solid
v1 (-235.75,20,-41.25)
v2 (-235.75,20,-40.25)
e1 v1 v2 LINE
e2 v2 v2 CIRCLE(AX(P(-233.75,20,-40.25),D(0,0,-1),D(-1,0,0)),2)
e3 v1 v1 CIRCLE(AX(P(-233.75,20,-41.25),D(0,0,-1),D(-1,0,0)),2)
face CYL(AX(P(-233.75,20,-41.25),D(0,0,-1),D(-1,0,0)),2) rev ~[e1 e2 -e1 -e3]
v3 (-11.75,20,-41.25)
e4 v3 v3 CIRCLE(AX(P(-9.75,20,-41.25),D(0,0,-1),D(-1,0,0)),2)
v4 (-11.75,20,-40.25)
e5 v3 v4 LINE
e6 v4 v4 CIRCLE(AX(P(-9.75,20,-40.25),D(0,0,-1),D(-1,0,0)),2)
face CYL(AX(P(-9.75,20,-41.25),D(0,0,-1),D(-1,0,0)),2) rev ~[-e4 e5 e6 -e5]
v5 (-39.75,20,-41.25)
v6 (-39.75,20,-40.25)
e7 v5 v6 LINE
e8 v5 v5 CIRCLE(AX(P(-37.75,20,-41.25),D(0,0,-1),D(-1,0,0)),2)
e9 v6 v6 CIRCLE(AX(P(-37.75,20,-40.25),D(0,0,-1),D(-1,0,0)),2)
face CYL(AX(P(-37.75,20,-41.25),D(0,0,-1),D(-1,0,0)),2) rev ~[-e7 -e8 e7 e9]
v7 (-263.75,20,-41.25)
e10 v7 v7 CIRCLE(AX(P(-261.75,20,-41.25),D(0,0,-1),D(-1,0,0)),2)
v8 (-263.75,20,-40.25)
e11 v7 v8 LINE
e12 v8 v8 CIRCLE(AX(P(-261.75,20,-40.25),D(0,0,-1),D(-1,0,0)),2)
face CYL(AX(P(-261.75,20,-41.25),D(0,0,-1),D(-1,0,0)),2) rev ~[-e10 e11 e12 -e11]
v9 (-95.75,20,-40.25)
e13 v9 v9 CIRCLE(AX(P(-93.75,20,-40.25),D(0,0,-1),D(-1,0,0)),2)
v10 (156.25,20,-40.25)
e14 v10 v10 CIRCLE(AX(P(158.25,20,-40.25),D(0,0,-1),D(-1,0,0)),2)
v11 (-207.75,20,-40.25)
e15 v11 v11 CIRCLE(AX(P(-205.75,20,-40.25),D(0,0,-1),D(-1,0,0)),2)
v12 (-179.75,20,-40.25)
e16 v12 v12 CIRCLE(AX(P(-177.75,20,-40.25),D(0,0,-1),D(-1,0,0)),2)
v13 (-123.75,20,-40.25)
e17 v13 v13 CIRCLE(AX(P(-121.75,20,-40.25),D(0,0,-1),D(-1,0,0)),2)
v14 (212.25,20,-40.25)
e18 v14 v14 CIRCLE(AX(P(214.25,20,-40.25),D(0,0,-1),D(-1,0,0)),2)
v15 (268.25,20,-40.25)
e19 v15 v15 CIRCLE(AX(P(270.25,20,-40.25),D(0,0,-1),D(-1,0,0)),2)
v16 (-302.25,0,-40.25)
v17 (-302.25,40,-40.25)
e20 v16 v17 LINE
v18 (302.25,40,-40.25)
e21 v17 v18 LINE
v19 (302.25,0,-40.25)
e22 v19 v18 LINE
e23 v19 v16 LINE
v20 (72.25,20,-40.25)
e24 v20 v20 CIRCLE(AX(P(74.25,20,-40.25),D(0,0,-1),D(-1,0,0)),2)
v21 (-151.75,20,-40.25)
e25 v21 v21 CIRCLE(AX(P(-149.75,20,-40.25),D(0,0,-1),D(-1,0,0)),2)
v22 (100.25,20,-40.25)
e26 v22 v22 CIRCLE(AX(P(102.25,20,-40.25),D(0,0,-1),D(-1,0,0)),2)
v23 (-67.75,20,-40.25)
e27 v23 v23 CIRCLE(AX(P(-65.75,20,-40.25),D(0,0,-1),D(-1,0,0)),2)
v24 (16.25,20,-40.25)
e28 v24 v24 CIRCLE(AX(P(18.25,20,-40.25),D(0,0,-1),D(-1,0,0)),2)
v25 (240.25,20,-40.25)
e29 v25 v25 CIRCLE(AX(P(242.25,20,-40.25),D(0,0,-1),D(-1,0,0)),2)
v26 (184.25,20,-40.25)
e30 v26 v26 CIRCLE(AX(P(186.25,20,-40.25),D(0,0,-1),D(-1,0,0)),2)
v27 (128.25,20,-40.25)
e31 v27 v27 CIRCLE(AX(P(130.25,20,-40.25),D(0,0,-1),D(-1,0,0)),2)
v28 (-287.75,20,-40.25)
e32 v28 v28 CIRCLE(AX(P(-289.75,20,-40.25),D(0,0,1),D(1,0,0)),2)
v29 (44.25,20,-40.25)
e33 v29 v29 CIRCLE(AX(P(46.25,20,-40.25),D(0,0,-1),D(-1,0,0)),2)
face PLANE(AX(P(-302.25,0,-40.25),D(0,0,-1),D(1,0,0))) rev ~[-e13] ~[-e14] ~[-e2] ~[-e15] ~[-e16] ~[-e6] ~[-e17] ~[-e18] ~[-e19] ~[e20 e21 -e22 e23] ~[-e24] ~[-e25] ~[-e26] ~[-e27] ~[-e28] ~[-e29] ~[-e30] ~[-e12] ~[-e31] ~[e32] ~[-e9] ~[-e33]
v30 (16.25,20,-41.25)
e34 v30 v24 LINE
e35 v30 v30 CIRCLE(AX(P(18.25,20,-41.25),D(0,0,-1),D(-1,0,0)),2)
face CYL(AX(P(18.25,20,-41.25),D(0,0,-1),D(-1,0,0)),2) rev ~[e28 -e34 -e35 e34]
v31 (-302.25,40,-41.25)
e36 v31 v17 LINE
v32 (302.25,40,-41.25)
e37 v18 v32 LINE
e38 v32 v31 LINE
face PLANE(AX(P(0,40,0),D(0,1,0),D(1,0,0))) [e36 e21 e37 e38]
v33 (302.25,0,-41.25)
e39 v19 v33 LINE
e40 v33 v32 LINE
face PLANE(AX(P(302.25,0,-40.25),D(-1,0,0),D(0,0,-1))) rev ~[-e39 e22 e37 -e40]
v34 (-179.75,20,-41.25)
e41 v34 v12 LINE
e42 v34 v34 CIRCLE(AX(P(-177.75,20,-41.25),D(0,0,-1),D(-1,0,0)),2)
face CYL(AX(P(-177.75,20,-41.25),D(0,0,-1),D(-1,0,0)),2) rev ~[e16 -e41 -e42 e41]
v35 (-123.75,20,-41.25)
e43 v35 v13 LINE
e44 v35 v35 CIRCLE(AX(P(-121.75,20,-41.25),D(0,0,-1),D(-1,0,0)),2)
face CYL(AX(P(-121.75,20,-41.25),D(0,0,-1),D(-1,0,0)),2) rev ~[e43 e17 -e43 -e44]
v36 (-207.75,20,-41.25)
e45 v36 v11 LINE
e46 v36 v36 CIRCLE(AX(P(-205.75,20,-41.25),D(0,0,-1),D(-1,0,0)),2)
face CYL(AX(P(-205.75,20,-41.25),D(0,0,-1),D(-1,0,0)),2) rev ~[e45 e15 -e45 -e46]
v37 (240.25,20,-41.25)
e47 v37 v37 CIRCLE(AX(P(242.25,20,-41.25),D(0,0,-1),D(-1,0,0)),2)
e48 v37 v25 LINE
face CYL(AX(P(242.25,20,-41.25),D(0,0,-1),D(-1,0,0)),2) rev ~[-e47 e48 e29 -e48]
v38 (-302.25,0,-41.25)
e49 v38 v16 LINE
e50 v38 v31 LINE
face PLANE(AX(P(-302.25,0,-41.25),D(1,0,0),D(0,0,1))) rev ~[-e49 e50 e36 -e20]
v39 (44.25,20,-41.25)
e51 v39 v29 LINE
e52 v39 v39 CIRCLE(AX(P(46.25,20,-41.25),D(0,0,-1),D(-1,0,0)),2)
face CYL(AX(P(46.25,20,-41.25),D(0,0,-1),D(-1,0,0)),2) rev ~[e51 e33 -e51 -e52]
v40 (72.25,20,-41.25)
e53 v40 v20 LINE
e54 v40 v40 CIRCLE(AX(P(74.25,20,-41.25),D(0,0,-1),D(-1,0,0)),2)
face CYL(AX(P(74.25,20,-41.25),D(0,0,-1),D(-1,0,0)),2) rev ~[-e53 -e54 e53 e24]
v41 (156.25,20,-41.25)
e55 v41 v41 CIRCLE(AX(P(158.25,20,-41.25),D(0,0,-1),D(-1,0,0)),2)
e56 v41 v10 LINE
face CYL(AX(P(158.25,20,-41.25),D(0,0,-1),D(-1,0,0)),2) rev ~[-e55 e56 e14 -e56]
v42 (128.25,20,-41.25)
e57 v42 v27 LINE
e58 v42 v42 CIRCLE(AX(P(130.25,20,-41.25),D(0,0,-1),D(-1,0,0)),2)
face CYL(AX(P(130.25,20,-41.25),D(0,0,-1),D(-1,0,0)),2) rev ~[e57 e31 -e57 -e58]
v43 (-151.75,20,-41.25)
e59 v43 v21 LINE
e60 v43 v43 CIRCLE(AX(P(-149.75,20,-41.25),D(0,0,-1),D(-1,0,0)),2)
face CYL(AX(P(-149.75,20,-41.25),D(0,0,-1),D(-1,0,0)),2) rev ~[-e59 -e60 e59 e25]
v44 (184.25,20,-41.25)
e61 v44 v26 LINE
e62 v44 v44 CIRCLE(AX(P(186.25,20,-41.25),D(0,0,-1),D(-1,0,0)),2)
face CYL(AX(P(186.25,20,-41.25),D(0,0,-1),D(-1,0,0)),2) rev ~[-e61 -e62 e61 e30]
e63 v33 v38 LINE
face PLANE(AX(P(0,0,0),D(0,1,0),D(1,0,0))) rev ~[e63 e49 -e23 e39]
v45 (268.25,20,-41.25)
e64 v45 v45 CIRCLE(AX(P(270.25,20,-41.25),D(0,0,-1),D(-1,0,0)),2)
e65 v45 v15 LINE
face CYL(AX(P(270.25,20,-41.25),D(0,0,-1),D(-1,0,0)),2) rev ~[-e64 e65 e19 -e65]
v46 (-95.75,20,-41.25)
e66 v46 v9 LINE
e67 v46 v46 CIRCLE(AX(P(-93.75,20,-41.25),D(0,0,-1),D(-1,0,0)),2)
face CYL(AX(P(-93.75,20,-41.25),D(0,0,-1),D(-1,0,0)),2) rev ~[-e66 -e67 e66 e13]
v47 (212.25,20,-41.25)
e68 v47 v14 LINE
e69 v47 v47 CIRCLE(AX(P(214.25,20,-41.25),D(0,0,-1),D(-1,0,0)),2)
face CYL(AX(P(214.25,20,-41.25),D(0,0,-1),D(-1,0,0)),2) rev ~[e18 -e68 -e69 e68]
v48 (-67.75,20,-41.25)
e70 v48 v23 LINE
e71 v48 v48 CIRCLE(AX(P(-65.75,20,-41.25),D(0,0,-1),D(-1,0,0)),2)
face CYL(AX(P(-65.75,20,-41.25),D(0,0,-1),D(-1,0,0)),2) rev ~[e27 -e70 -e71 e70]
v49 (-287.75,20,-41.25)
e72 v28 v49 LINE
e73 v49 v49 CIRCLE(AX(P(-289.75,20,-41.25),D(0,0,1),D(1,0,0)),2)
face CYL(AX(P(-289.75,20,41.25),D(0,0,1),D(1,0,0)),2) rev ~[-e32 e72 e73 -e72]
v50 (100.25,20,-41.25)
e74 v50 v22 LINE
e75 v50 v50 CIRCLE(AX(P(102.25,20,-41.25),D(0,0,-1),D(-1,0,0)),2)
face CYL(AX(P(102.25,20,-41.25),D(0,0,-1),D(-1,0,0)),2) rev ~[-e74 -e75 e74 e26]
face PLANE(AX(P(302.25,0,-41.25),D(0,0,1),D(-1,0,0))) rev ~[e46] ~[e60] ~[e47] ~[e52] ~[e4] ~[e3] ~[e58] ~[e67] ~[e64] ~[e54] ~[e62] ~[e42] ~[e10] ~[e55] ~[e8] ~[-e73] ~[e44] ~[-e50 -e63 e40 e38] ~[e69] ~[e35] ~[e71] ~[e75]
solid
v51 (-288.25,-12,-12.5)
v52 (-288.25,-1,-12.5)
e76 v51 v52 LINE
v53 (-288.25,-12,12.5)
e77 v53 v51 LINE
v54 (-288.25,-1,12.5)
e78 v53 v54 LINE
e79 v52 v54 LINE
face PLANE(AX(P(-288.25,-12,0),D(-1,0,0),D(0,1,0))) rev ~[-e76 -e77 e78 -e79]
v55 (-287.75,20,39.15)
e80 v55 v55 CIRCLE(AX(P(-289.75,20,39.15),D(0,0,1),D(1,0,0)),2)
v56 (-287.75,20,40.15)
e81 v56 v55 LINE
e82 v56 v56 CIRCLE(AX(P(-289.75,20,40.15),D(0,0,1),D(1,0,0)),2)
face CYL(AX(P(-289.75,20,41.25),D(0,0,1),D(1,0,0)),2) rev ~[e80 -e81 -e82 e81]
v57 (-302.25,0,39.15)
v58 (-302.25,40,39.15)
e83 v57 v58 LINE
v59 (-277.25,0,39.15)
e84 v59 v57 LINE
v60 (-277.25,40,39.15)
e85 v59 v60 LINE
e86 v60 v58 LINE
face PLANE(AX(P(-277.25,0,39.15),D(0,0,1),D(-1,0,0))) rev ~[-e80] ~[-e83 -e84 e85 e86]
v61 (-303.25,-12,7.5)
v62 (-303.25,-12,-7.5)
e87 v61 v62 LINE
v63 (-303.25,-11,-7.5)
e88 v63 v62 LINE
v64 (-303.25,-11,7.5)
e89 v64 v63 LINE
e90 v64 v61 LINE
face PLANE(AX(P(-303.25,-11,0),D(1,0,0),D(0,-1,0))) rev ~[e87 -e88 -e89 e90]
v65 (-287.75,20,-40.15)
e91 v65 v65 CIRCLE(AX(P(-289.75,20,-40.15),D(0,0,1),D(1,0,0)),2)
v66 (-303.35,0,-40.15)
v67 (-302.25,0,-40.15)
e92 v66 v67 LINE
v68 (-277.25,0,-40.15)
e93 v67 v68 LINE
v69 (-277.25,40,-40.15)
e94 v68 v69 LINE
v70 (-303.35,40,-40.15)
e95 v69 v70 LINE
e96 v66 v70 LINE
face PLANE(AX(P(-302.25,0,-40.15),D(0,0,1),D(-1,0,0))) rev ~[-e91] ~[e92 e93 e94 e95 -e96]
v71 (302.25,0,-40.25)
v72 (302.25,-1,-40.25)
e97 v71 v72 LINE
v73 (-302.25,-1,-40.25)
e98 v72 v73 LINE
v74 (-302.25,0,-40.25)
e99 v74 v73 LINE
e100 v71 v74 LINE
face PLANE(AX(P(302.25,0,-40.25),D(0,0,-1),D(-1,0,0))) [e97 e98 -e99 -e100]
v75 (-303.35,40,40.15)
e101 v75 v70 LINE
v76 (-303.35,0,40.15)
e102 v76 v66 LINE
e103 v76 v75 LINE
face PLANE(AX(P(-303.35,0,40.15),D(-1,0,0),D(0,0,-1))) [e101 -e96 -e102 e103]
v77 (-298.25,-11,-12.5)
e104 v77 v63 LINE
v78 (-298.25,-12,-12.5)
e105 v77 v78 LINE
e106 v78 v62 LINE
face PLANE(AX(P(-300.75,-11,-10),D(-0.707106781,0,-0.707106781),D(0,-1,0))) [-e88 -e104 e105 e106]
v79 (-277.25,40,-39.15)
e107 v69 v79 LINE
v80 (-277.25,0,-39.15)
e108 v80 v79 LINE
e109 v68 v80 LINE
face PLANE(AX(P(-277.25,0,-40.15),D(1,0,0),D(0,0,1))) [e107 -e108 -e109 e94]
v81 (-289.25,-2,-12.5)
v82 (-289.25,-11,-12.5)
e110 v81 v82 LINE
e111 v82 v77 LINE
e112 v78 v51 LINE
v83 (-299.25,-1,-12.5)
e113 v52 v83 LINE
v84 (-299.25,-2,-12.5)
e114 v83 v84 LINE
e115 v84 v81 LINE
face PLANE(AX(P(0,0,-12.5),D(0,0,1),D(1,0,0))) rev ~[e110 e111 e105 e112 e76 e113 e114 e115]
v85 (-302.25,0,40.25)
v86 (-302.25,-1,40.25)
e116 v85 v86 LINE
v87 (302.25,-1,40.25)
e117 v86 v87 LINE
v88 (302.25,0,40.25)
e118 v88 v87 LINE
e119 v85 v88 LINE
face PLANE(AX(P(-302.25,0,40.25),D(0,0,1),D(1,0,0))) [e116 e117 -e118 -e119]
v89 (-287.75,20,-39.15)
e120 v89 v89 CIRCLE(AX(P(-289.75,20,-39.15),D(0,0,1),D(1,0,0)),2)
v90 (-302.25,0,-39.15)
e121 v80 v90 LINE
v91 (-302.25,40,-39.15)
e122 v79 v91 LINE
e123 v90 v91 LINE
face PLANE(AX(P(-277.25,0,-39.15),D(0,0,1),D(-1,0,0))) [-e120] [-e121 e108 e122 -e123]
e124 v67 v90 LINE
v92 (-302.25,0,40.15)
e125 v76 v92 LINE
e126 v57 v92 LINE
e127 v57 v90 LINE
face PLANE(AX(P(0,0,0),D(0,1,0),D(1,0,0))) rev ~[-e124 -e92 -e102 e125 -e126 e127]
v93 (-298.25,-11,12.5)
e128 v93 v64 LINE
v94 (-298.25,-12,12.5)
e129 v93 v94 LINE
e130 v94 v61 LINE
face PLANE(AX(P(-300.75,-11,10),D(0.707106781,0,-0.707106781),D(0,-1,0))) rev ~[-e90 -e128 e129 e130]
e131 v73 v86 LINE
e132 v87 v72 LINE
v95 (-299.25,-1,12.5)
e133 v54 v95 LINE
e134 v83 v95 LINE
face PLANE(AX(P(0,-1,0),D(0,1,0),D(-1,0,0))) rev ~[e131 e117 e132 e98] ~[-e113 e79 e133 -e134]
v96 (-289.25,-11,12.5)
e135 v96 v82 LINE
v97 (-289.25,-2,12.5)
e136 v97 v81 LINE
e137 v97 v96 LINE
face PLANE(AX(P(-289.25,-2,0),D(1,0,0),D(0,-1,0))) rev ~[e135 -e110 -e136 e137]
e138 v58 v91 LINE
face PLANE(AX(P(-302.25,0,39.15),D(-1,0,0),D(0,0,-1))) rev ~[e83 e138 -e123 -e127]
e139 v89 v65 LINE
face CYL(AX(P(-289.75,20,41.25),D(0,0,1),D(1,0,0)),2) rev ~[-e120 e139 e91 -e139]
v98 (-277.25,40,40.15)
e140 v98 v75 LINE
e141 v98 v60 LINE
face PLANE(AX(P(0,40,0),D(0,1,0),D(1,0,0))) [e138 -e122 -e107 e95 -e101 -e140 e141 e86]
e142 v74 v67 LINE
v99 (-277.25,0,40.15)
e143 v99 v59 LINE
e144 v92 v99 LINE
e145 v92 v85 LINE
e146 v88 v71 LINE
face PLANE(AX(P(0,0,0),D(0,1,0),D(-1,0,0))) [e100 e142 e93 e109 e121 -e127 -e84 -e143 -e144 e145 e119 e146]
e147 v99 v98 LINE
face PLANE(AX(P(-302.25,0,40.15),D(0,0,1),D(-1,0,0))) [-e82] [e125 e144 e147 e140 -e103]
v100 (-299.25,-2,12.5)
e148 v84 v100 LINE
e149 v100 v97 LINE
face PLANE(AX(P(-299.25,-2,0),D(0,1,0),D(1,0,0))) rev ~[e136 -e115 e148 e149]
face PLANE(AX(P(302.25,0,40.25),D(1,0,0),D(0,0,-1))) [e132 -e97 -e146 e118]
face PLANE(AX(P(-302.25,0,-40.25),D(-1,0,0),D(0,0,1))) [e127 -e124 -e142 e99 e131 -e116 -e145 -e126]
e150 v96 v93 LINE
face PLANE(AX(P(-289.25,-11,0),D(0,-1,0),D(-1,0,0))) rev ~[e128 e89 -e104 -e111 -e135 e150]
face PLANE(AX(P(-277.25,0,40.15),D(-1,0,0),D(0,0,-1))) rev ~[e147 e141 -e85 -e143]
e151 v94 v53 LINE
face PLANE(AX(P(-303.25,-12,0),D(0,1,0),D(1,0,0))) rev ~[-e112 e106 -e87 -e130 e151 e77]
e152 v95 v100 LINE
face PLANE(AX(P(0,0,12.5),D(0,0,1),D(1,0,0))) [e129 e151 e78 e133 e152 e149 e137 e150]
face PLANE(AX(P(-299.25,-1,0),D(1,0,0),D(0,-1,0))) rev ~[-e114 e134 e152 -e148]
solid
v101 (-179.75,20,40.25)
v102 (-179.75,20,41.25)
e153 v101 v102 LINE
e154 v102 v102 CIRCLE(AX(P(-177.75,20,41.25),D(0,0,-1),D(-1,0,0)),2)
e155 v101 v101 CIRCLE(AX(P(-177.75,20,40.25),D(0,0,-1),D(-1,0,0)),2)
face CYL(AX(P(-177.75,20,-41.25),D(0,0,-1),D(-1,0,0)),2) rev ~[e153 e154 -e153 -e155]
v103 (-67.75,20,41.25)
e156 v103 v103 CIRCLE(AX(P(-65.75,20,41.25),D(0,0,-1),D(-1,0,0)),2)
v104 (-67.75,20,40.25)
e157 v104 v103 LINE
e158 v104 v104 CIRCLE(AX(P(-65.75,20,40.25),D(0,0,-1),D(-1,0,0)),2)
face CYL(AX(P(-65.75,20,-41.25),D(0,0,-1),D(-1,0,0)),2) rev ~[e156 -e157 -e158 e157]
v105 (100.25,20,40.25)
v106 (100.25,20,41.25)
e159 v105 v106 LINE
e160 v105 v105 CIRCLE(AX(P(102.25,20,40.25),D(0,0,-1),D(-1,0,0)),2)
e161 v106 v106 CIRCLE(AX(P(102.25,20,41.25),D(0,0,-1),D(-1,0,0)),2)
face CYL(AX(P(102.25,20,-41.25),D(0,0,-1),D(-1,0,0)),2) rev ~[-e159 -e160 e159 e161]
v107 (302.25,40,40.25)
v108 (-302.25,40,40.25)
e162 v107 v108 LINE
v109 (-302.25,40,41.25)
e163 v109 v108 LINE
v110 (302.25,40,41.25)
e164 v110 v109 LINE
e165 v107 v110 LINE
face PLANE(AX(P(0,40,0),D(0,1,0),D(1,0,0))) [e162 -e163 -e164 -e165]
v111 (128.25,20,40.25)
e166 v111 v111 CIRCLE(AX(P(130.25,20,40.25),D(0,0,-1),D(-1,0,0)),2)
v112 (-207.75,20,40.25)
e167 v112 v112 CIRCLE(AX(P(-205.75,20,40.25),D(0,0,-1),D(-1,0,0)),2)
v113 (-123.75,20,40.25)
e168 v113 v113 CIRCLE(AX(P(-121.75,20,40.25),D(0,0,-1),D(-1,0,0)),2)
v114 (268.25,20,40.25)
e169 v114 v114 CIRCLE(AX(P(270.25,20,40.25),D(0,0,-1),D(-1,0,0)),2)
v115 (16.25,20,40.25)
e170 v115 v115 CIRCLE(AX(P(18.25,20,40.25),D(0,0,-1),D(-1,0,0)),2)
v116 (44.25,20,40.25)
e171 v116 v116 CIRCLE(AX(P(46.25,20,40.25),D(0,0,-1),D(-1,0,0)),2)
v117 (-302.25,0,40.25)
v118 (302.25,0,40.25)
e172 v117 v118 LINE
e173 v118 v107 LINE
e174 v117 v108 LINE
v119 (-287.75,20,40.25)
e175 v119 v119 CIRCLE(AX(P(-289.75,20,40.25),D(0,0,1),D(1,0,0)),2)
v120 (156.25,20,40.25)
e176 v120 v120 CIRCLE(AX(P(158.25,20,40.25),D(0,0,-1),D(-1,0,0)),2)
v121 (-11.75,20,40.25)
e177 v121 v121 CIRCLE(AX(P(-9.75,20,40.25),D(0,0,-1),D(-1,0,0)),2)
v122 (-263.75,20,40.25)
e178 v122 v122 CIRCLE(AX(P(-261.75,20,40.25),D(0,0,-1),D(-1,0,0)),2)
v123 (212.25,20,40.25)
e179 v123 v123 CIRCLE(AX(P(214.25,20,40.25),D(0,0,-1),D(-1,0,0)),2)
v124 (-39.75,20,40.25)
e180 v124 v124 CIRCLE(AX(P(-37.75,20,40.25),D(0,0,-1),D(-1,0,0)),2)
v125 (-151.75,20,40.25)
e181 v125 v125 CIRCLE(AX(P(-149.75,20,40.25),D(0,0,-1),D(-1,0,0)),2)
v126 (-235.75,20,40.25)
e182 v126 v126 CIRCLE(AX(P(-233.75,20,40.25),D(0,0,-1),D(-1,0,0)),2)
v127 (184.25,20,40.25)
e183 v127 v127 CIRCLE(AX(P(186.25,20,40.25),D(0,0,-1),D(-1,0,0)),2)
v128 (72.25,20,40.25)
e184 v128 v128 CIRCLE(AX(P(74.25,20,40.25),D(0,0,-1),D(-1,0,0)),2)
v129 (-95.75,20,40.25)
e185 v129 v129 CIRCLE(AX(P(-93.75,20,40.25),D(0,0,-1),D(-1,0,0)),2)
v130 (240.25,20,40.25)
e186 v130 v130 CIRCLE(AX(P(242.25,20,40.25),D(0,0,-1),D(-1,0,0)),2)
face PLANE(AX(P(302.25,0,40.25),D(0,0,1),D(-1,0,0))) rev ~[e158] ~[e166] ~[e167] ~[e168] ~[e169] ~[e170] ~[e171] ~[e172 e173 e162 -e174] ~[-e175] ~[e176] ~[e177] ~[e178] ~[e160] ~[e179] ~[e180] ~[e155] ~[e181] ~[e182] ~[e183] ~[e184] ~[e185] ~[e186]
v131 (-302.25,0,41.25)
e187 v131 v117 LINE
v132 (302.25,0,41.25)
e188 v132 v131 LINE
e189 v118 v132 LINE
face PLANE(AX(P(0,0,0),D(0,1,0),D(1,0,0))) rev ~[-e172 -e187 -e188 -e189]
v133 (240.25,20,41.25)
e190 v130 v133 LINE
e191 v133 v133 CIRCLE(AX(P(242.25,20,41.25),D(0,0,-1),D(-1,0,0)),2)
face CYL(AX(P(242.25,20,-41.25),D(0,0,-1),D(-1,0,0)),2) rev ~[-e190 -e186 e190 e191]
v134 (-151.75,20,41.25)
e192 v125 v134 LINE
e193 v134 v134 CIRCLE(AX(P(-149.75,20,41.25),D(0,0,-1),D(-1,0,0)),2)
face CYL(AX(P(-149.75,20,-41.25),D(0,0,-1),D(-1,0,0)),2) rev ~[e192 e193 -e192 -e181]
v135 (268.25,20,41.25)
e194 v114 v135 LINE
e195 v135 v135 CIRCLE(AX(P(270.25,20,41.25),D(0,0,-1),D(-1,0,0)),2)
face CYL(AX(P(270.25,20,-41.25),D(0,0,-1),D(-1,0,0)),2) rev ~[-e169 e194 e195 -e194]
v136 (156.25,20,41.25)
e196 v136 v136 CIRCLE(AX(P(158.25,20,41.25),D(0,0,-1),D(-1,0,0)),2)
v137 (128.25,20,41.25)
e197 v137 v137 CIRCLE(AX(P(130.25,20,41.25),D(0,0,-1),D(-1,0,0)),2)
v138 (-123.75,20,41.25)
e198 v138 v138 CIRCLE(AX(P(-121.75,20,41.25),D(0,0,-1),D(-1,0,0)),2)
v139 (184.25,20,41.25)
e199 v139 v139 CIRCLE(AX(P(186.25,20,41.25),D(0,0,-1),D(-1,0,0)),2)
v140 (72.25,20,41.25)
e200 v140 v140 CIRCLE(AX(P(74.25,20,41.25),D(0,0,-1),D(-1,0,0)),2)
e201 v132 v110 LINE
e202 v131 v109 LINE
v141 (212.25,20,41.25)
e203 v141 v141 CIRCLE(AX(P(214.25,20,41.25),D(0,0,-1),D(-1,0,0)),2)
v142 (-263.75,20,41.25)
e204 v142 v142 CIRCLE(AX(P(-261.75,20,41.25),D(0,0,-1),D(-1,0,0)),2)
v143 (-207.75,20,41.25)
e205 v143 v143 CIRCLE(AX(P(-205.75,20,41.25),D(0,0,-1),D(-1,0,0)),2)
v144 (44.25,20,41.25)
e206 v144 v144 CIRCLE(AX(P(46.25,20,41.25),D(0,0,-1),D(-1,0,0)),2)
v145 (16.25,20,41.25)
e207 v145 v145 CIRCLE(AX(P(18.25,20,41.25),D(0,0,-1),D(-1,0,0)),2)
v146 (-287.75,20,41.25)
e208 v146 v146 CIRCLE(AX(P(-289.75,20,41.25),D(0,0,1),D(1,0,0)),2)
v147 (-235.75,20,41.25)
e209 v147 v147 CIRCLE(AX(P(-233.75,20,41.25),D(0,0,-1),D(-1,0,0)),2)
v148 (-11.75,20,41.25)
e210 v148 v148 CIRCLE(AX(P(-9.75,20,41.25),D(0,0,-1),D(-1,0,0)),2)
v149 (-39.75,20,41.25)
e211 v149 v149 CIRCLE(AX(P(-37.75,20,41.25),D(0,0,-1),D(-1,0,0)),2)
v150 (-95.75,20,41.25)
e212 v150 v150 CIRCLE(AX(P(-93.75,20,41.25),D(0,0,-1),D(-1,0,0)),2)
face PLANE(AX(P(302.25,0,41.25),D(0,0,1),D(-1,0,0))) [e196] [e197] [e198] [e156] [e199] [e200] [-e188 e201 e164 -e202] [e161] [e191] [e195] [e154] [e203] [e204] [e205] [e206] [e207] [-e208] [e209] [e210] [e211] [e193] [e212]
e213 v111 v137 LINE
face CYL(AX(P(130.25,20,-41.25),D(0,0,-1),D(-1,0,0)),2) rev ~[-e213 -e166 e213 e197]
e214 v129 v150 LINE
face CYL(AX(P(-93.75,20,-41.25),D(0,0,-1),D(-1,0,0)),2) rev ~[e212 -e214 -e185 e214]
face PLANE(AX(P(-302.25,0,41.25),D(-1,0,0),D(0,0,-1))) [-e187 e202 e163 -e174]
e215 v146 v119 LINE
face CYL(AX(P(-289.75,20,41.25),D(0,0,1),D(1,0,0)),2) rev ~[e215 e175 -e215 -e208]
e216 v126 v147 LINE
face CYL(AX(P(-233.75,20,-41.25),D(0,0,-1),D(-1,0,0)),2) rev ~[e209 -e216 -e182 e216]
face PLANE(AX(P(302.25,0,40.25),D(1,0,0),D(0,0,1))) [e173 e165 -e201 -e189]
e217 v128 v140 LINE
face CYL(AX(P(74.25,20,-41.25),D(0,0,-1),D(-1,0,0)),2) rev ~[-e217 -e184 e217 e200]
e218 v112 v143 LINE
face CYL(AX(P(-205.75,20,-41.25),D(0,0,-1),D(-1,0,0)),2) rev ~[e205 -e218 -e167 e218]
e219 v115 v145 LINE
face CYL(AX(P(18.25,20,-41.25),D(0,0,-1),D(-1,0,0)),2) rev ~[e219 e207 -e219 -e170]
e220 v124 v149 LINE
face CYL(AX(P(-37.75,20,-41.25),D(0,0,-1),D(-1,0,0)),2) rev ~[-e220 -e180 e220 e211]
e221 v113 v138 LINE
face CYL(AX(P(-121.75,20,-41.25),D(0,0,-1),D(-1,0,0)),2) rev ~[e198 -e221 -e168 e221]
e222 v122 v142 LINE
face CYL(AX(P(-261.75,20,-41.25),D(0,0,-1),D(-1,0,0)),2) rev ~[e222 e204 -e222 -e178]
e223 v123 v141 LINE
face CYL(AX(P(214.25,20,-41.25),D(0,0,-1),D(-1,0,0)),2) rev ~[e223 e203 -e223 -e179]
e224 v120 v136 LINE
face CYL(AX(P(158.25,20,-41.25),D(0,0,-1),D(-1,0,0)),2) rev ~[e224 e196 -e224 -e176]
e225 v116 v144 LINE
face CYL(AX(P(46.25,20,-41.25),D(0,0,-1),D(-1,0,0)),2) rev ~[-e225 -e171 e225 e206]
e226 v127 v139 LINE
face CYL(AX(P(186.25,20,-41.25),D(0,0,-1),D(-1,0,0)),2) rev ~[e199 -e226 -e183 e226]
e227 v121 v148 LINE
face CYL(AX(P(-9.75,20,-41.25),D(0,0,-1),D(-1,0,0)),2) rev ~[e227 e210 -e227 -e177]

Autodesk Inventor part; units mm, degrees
ref_plane "YZ Plane" through (0, 0, 0) normal (1, 0, 0) x (0, 1, 0)
ref_plane "XZ Plane" through (0, 0, 0) normal (0, 1, 0) x (-1, 0, 0)
ref_plane "XY Plane" through (0, 0, 0) normal (0, 0, 1) x (1, 0, 0)
sketch "Sketch1" plane through (0, 0, 0) normal (0, 1, 0) x (-1, 0, 0)
  line L0 (302.25, 40.25) -> (-302.25, 40.25)
  line L1 (-302.25, 40.25) -> (-302.25, -40.25)
  line L2 (-302.25, -40.25) -> (302.25, -40.25)
  line L3 (302.25, -40.25) -> (302.25, 40.25)
  line L4 (431.9097, 0) -> (-427.5376, 0) construction
  line L5 (0, 201.1267) -> (0, -116.2072) construction
  point P0 (0, 0)
  dimension "d0" = 604.5
  dimension "d1" = 80.5
extrude "Extrusion1" add sketch "Sketch1" against normal blind 1
sketch "Sketch2" plane through (0, 0, 0) normal (0, 1, 0) x (1, 0, 0)
  line L0 (-302.25, 40.25) -> (302.25, 40.25) projected
  line L1 (-302.25, 40.25) -> (302.25, 40.25)
  line L2 (302.25, 40.25) -> (302.25, 41.25)
  line L3 (302.25, 41.25) -> (-302.25, 41.25)
  line L4 (-302.25, 41.25) -> (-302.25, 40.25)
  line L5 (302.25, -40.25) -> (-302.25, -40.25) projected
  line L6 (-302.25, -40.25) -> (302.25, -40.25)
  line L7 (302.25, -40.25) -> (302.25, -41.25)
  line L8 (302.25, -41.25) -> (-302.25, -41.25)
  line L9 (-302.25, -41.25) -> (-302.25, -40.25)
  line L10 (-302.25, -41.25) -> (-303.75, -41.25)
  line L11 (-303.75, -41.25) -> (-303.75, 42.25)
  line L12 (-303.75, 42.25) -> (-302.25, 42.25)
  line L13 (-302.25, 42.25) -> (-302.25, -41.25)
  point P0 (0, 0)
  point P1 (-300.25, 41.75)
  dimension "d4" = 1
  dimension "d5" = 604.5
  dimension "d6" = 1
  dimension "d7" = 604.5
  dimension "d8" = 1.5
  dimension "d9" = 83.5
extrude "Extrusion2" add sketch "Sketch2" along normal blind 40 contours L4 L3 L2 L0 | L5 L7 L8 L9
sketch "Sketch3" plane through (0, 0, 0) normal (0, 1, 0) x (1, 0, 0)
  line L0 (-302.25, 41.25) -> (-302.25, 40.25) projected
  line L1 (-302.25, 41.25) -> (-302.25, 40.25) projected
  line L2 (-302.25, 41.25) -> (-302.25, 40.25) projected
  line L3 (-302.25, 41.25) -> (-302.25, 40.25) projected
  line L4 (-302.25, -40.25) -> (-302.25, 40.25) projected
  line L5 (-302.25, 40.25) -> (-302.25, -40.25) projected
  line L6 (-302.25, -40.25) -> (-302.25, -41.25) projected
  line L7 (-302.25, -40.25) -> (-302.25, -41.25) projected
  line L8 (-302.25, 40.25) -> (-302.25, -40.25) projected
  line L9 (-302.25, -40.25) -> (-302.25, 40.25) projected
  line L10 (-302.25, -40.25) -> (-302.25, -41.25) projected
  line L11 (-302.25, -40.25) -> (-302.25, -41.25) projected
  line L12 (302.25, 41.25) -> (-302.25, 41.25) projected
  line L13 (-302.25, -41.25) -> (302.25, -41.25) projected
  line L14 (302.25, -40.25) -> (-302.25, -40.25) projected
  line L15 (-302.25, 40.25) -> (302.25, 40.25) projected
  line L16 (302.25, -40.25) -> (-302.25, -40.25) projected
  line L17 (-277.25, -40.25) -> (-277.25, -39.15)
  line L18 (-277.25, -39.15) -> (-302.25, -39.15)
  line L19 (-302.25, 40.25) -> (302.25, 40.25) projected
  line L20 (-277.25, 40.25) -> (-277.25, 39.15)
  line L21 (-277.25, 39.15) -> (-302.25, 39.15)
  line L22 (-302.25, -40.25) -> (-303.35, -40.25)
  line L23 (-303.35, -40.25) -> (-303.35, 40.25)
  line L24 (-303.35, 40.25) -> (-302.25, 40.25)
  line L25 (-277.25, 40.15) -> (-303.35, 40.15)
  line L26 (-277.25, -40.15) -> (-302.25, -40.15)
  line L27 (-302.25, -40.15) -> (-303.35, -40.15)
  point P0 (0, 0)
  point P1 (-302.25, 39.15)
  dimension "d12" = 1.1
  dimension "d13" = 25
  dimension "d14" = 0.1
  dimension "d15" = 0.1
extrude "Extrusion3" add sketch "Sketch3" along normal blind 40 contours L27 L23 L25 L4 | L4 L18 L17 L26 | L4 L25 L20 L21
sketch "Sketch4" plane through (-302.25, 0, 41.25) normal (0, 0, 1) x (1, 0, 0)
  line L0 (25, 0) -> (0, 0) projected
  line L1 (25, 0) -> (25, 40) projected
  line L2 (0, 40) -> (25, 40) projected
  line L3 (0, 0) -> (0, 40) projected
  circle A0 centre (12.5, 20) radius 2
  point P0 (302.25, 0)
  point P1 (25, 20)
  point P2 (12.5, 0)
  dimension "d18" = 4
extrude "Extrusion4" cut sketch "Sketch4" against normal through all contours A0
sketch "Sketch5" plane through (302.25, 0, -41.25) normal (0, 0, -1) x (-1, 0, 0)
  circle A0 centre (592, 20) radius 2 projected
  line L0 (604.5, 0) -> (0, 0) projected
  line L1 (604.5, 0) -> (604.5, 40) projected
  line L2 (0, 40) -> (604.5, 40) projected
  line L3 (0, 0) -> (0, 40) projected
  circle A1 centre (592, 20) radius 2 projected
  line L4 (604.5, 0) -> (579.5, 0) projected
  line L5 (604.5, 0) -> (604.5, 40) projected
  line L6 (579.5, 40) -> (604.5, 40) projected
  line L7 (579.5, 0) -> (579.5, 40) projected
  circle A2 centre (564, 20) radius 2
  circle A3 centre (536, 20) radius 2
  circle A4 centre (508, 20) radius 2
  circle A5 centre (480, 20) radius 2
  circle A6 centre (452, 20) radius 2
  circle A7 centre (424, 20) radius 2
  circle A8 centre (396, 20) radius 2
  circle A9 centre (368, 20) radius 2
  circle A10 centre (340, 20) radius 2
  circle A11 centre (312, 20) radius 2
  circle A12 centre (284, 20) radius 2
  circle A13 centre (256, 20) radius 2
  circle A14 centre (228, 20) radius 2
  circle A15 centre (200, 20) radius 2
  circle A16 centre (172, 20) radius 2
  circle A17 centre (144, 20) radius 2
  circle A18 centre (116, 20) radius 2
  circle A19 centre (88, 20) radius 2
  circle A20 centre (60, 20) radius 2
  circle A21 centre (32, 20) radius 2
  point P0 (302.25, 0)
  point P1 (579.5, 20)
  dimension "d21" = 4
  dimension "d22" = 15.5
  dimension "d25" = 28
extrude "Extrusion5" cut sketch "Sketch5" against normal through all contours A2 | A3 | A4 | A5 | A6 | A7 | A8 | A9 | A10 | A11 | A12 | A13 | A14 | A15 | A16 | A17 | A18 | A19 | A20 | A21
sketch "Sketch6" plane through (0, 0, 0) normal (0, 0, 1) x (1, 0, 0)
  line L0 (-277.25, 0) -> (-302.25, 0) projected
  line L1 (-302.25, 0) -> (302.25, 0) projected
  line L2 (302.25, 0) -> (-302.25, 0) projected
  line L3 (-302.25, 0) -> (-277.25, 0) projected
  line L4 (-277.25, 0) -> (-302.25, 0) projected
  line L5 (-302.25, 0) -> (-277.25, 0) projected
  line L6 (302.25, -1) -> (-302.25, -1) projected
  line L7 (-302.25, -1) -> (302.25, -1) projected
  line L8 (-299.25, -1) -> (-299.25, -2)
  line L9 (-299.25, -2) -> (-289.25, -2)
  line L10 (-289.25, -2) -> (-289.25, -11)
  line L11 (-289.25, -11) -> (-303.25, -11)
  line L12 (-303.25, -11) -> (-303.25, -12)
  line L13 (-303.25, -12) -> (-288.25, -12)
  line L14 (-288.25, -12) -> (-288.25, -1)
  point P0 (0, 0)
  point P1 (-288.25, -1)
  dimension "d32" = 1
  dimension "d33" = 3
  dimension "d34" = 1
  dimension "d35" = 1
  dimension "d36" = 11
  dimension "d37" = 10
  dimension "d38" = 15
extrude "Extrusion6" add sketch "Sketch6" along normal mid plane 25
chamfer "Chamfer1" distance 5 angle 45 2 edges at (-303.25, -11.5, 12.5) (-303.25, -11.5, -12.5)
equation "\"d34\" = d32"
equation "\"d35\" = d32"
properties part number "Deck" material "Aluminum 6061"
